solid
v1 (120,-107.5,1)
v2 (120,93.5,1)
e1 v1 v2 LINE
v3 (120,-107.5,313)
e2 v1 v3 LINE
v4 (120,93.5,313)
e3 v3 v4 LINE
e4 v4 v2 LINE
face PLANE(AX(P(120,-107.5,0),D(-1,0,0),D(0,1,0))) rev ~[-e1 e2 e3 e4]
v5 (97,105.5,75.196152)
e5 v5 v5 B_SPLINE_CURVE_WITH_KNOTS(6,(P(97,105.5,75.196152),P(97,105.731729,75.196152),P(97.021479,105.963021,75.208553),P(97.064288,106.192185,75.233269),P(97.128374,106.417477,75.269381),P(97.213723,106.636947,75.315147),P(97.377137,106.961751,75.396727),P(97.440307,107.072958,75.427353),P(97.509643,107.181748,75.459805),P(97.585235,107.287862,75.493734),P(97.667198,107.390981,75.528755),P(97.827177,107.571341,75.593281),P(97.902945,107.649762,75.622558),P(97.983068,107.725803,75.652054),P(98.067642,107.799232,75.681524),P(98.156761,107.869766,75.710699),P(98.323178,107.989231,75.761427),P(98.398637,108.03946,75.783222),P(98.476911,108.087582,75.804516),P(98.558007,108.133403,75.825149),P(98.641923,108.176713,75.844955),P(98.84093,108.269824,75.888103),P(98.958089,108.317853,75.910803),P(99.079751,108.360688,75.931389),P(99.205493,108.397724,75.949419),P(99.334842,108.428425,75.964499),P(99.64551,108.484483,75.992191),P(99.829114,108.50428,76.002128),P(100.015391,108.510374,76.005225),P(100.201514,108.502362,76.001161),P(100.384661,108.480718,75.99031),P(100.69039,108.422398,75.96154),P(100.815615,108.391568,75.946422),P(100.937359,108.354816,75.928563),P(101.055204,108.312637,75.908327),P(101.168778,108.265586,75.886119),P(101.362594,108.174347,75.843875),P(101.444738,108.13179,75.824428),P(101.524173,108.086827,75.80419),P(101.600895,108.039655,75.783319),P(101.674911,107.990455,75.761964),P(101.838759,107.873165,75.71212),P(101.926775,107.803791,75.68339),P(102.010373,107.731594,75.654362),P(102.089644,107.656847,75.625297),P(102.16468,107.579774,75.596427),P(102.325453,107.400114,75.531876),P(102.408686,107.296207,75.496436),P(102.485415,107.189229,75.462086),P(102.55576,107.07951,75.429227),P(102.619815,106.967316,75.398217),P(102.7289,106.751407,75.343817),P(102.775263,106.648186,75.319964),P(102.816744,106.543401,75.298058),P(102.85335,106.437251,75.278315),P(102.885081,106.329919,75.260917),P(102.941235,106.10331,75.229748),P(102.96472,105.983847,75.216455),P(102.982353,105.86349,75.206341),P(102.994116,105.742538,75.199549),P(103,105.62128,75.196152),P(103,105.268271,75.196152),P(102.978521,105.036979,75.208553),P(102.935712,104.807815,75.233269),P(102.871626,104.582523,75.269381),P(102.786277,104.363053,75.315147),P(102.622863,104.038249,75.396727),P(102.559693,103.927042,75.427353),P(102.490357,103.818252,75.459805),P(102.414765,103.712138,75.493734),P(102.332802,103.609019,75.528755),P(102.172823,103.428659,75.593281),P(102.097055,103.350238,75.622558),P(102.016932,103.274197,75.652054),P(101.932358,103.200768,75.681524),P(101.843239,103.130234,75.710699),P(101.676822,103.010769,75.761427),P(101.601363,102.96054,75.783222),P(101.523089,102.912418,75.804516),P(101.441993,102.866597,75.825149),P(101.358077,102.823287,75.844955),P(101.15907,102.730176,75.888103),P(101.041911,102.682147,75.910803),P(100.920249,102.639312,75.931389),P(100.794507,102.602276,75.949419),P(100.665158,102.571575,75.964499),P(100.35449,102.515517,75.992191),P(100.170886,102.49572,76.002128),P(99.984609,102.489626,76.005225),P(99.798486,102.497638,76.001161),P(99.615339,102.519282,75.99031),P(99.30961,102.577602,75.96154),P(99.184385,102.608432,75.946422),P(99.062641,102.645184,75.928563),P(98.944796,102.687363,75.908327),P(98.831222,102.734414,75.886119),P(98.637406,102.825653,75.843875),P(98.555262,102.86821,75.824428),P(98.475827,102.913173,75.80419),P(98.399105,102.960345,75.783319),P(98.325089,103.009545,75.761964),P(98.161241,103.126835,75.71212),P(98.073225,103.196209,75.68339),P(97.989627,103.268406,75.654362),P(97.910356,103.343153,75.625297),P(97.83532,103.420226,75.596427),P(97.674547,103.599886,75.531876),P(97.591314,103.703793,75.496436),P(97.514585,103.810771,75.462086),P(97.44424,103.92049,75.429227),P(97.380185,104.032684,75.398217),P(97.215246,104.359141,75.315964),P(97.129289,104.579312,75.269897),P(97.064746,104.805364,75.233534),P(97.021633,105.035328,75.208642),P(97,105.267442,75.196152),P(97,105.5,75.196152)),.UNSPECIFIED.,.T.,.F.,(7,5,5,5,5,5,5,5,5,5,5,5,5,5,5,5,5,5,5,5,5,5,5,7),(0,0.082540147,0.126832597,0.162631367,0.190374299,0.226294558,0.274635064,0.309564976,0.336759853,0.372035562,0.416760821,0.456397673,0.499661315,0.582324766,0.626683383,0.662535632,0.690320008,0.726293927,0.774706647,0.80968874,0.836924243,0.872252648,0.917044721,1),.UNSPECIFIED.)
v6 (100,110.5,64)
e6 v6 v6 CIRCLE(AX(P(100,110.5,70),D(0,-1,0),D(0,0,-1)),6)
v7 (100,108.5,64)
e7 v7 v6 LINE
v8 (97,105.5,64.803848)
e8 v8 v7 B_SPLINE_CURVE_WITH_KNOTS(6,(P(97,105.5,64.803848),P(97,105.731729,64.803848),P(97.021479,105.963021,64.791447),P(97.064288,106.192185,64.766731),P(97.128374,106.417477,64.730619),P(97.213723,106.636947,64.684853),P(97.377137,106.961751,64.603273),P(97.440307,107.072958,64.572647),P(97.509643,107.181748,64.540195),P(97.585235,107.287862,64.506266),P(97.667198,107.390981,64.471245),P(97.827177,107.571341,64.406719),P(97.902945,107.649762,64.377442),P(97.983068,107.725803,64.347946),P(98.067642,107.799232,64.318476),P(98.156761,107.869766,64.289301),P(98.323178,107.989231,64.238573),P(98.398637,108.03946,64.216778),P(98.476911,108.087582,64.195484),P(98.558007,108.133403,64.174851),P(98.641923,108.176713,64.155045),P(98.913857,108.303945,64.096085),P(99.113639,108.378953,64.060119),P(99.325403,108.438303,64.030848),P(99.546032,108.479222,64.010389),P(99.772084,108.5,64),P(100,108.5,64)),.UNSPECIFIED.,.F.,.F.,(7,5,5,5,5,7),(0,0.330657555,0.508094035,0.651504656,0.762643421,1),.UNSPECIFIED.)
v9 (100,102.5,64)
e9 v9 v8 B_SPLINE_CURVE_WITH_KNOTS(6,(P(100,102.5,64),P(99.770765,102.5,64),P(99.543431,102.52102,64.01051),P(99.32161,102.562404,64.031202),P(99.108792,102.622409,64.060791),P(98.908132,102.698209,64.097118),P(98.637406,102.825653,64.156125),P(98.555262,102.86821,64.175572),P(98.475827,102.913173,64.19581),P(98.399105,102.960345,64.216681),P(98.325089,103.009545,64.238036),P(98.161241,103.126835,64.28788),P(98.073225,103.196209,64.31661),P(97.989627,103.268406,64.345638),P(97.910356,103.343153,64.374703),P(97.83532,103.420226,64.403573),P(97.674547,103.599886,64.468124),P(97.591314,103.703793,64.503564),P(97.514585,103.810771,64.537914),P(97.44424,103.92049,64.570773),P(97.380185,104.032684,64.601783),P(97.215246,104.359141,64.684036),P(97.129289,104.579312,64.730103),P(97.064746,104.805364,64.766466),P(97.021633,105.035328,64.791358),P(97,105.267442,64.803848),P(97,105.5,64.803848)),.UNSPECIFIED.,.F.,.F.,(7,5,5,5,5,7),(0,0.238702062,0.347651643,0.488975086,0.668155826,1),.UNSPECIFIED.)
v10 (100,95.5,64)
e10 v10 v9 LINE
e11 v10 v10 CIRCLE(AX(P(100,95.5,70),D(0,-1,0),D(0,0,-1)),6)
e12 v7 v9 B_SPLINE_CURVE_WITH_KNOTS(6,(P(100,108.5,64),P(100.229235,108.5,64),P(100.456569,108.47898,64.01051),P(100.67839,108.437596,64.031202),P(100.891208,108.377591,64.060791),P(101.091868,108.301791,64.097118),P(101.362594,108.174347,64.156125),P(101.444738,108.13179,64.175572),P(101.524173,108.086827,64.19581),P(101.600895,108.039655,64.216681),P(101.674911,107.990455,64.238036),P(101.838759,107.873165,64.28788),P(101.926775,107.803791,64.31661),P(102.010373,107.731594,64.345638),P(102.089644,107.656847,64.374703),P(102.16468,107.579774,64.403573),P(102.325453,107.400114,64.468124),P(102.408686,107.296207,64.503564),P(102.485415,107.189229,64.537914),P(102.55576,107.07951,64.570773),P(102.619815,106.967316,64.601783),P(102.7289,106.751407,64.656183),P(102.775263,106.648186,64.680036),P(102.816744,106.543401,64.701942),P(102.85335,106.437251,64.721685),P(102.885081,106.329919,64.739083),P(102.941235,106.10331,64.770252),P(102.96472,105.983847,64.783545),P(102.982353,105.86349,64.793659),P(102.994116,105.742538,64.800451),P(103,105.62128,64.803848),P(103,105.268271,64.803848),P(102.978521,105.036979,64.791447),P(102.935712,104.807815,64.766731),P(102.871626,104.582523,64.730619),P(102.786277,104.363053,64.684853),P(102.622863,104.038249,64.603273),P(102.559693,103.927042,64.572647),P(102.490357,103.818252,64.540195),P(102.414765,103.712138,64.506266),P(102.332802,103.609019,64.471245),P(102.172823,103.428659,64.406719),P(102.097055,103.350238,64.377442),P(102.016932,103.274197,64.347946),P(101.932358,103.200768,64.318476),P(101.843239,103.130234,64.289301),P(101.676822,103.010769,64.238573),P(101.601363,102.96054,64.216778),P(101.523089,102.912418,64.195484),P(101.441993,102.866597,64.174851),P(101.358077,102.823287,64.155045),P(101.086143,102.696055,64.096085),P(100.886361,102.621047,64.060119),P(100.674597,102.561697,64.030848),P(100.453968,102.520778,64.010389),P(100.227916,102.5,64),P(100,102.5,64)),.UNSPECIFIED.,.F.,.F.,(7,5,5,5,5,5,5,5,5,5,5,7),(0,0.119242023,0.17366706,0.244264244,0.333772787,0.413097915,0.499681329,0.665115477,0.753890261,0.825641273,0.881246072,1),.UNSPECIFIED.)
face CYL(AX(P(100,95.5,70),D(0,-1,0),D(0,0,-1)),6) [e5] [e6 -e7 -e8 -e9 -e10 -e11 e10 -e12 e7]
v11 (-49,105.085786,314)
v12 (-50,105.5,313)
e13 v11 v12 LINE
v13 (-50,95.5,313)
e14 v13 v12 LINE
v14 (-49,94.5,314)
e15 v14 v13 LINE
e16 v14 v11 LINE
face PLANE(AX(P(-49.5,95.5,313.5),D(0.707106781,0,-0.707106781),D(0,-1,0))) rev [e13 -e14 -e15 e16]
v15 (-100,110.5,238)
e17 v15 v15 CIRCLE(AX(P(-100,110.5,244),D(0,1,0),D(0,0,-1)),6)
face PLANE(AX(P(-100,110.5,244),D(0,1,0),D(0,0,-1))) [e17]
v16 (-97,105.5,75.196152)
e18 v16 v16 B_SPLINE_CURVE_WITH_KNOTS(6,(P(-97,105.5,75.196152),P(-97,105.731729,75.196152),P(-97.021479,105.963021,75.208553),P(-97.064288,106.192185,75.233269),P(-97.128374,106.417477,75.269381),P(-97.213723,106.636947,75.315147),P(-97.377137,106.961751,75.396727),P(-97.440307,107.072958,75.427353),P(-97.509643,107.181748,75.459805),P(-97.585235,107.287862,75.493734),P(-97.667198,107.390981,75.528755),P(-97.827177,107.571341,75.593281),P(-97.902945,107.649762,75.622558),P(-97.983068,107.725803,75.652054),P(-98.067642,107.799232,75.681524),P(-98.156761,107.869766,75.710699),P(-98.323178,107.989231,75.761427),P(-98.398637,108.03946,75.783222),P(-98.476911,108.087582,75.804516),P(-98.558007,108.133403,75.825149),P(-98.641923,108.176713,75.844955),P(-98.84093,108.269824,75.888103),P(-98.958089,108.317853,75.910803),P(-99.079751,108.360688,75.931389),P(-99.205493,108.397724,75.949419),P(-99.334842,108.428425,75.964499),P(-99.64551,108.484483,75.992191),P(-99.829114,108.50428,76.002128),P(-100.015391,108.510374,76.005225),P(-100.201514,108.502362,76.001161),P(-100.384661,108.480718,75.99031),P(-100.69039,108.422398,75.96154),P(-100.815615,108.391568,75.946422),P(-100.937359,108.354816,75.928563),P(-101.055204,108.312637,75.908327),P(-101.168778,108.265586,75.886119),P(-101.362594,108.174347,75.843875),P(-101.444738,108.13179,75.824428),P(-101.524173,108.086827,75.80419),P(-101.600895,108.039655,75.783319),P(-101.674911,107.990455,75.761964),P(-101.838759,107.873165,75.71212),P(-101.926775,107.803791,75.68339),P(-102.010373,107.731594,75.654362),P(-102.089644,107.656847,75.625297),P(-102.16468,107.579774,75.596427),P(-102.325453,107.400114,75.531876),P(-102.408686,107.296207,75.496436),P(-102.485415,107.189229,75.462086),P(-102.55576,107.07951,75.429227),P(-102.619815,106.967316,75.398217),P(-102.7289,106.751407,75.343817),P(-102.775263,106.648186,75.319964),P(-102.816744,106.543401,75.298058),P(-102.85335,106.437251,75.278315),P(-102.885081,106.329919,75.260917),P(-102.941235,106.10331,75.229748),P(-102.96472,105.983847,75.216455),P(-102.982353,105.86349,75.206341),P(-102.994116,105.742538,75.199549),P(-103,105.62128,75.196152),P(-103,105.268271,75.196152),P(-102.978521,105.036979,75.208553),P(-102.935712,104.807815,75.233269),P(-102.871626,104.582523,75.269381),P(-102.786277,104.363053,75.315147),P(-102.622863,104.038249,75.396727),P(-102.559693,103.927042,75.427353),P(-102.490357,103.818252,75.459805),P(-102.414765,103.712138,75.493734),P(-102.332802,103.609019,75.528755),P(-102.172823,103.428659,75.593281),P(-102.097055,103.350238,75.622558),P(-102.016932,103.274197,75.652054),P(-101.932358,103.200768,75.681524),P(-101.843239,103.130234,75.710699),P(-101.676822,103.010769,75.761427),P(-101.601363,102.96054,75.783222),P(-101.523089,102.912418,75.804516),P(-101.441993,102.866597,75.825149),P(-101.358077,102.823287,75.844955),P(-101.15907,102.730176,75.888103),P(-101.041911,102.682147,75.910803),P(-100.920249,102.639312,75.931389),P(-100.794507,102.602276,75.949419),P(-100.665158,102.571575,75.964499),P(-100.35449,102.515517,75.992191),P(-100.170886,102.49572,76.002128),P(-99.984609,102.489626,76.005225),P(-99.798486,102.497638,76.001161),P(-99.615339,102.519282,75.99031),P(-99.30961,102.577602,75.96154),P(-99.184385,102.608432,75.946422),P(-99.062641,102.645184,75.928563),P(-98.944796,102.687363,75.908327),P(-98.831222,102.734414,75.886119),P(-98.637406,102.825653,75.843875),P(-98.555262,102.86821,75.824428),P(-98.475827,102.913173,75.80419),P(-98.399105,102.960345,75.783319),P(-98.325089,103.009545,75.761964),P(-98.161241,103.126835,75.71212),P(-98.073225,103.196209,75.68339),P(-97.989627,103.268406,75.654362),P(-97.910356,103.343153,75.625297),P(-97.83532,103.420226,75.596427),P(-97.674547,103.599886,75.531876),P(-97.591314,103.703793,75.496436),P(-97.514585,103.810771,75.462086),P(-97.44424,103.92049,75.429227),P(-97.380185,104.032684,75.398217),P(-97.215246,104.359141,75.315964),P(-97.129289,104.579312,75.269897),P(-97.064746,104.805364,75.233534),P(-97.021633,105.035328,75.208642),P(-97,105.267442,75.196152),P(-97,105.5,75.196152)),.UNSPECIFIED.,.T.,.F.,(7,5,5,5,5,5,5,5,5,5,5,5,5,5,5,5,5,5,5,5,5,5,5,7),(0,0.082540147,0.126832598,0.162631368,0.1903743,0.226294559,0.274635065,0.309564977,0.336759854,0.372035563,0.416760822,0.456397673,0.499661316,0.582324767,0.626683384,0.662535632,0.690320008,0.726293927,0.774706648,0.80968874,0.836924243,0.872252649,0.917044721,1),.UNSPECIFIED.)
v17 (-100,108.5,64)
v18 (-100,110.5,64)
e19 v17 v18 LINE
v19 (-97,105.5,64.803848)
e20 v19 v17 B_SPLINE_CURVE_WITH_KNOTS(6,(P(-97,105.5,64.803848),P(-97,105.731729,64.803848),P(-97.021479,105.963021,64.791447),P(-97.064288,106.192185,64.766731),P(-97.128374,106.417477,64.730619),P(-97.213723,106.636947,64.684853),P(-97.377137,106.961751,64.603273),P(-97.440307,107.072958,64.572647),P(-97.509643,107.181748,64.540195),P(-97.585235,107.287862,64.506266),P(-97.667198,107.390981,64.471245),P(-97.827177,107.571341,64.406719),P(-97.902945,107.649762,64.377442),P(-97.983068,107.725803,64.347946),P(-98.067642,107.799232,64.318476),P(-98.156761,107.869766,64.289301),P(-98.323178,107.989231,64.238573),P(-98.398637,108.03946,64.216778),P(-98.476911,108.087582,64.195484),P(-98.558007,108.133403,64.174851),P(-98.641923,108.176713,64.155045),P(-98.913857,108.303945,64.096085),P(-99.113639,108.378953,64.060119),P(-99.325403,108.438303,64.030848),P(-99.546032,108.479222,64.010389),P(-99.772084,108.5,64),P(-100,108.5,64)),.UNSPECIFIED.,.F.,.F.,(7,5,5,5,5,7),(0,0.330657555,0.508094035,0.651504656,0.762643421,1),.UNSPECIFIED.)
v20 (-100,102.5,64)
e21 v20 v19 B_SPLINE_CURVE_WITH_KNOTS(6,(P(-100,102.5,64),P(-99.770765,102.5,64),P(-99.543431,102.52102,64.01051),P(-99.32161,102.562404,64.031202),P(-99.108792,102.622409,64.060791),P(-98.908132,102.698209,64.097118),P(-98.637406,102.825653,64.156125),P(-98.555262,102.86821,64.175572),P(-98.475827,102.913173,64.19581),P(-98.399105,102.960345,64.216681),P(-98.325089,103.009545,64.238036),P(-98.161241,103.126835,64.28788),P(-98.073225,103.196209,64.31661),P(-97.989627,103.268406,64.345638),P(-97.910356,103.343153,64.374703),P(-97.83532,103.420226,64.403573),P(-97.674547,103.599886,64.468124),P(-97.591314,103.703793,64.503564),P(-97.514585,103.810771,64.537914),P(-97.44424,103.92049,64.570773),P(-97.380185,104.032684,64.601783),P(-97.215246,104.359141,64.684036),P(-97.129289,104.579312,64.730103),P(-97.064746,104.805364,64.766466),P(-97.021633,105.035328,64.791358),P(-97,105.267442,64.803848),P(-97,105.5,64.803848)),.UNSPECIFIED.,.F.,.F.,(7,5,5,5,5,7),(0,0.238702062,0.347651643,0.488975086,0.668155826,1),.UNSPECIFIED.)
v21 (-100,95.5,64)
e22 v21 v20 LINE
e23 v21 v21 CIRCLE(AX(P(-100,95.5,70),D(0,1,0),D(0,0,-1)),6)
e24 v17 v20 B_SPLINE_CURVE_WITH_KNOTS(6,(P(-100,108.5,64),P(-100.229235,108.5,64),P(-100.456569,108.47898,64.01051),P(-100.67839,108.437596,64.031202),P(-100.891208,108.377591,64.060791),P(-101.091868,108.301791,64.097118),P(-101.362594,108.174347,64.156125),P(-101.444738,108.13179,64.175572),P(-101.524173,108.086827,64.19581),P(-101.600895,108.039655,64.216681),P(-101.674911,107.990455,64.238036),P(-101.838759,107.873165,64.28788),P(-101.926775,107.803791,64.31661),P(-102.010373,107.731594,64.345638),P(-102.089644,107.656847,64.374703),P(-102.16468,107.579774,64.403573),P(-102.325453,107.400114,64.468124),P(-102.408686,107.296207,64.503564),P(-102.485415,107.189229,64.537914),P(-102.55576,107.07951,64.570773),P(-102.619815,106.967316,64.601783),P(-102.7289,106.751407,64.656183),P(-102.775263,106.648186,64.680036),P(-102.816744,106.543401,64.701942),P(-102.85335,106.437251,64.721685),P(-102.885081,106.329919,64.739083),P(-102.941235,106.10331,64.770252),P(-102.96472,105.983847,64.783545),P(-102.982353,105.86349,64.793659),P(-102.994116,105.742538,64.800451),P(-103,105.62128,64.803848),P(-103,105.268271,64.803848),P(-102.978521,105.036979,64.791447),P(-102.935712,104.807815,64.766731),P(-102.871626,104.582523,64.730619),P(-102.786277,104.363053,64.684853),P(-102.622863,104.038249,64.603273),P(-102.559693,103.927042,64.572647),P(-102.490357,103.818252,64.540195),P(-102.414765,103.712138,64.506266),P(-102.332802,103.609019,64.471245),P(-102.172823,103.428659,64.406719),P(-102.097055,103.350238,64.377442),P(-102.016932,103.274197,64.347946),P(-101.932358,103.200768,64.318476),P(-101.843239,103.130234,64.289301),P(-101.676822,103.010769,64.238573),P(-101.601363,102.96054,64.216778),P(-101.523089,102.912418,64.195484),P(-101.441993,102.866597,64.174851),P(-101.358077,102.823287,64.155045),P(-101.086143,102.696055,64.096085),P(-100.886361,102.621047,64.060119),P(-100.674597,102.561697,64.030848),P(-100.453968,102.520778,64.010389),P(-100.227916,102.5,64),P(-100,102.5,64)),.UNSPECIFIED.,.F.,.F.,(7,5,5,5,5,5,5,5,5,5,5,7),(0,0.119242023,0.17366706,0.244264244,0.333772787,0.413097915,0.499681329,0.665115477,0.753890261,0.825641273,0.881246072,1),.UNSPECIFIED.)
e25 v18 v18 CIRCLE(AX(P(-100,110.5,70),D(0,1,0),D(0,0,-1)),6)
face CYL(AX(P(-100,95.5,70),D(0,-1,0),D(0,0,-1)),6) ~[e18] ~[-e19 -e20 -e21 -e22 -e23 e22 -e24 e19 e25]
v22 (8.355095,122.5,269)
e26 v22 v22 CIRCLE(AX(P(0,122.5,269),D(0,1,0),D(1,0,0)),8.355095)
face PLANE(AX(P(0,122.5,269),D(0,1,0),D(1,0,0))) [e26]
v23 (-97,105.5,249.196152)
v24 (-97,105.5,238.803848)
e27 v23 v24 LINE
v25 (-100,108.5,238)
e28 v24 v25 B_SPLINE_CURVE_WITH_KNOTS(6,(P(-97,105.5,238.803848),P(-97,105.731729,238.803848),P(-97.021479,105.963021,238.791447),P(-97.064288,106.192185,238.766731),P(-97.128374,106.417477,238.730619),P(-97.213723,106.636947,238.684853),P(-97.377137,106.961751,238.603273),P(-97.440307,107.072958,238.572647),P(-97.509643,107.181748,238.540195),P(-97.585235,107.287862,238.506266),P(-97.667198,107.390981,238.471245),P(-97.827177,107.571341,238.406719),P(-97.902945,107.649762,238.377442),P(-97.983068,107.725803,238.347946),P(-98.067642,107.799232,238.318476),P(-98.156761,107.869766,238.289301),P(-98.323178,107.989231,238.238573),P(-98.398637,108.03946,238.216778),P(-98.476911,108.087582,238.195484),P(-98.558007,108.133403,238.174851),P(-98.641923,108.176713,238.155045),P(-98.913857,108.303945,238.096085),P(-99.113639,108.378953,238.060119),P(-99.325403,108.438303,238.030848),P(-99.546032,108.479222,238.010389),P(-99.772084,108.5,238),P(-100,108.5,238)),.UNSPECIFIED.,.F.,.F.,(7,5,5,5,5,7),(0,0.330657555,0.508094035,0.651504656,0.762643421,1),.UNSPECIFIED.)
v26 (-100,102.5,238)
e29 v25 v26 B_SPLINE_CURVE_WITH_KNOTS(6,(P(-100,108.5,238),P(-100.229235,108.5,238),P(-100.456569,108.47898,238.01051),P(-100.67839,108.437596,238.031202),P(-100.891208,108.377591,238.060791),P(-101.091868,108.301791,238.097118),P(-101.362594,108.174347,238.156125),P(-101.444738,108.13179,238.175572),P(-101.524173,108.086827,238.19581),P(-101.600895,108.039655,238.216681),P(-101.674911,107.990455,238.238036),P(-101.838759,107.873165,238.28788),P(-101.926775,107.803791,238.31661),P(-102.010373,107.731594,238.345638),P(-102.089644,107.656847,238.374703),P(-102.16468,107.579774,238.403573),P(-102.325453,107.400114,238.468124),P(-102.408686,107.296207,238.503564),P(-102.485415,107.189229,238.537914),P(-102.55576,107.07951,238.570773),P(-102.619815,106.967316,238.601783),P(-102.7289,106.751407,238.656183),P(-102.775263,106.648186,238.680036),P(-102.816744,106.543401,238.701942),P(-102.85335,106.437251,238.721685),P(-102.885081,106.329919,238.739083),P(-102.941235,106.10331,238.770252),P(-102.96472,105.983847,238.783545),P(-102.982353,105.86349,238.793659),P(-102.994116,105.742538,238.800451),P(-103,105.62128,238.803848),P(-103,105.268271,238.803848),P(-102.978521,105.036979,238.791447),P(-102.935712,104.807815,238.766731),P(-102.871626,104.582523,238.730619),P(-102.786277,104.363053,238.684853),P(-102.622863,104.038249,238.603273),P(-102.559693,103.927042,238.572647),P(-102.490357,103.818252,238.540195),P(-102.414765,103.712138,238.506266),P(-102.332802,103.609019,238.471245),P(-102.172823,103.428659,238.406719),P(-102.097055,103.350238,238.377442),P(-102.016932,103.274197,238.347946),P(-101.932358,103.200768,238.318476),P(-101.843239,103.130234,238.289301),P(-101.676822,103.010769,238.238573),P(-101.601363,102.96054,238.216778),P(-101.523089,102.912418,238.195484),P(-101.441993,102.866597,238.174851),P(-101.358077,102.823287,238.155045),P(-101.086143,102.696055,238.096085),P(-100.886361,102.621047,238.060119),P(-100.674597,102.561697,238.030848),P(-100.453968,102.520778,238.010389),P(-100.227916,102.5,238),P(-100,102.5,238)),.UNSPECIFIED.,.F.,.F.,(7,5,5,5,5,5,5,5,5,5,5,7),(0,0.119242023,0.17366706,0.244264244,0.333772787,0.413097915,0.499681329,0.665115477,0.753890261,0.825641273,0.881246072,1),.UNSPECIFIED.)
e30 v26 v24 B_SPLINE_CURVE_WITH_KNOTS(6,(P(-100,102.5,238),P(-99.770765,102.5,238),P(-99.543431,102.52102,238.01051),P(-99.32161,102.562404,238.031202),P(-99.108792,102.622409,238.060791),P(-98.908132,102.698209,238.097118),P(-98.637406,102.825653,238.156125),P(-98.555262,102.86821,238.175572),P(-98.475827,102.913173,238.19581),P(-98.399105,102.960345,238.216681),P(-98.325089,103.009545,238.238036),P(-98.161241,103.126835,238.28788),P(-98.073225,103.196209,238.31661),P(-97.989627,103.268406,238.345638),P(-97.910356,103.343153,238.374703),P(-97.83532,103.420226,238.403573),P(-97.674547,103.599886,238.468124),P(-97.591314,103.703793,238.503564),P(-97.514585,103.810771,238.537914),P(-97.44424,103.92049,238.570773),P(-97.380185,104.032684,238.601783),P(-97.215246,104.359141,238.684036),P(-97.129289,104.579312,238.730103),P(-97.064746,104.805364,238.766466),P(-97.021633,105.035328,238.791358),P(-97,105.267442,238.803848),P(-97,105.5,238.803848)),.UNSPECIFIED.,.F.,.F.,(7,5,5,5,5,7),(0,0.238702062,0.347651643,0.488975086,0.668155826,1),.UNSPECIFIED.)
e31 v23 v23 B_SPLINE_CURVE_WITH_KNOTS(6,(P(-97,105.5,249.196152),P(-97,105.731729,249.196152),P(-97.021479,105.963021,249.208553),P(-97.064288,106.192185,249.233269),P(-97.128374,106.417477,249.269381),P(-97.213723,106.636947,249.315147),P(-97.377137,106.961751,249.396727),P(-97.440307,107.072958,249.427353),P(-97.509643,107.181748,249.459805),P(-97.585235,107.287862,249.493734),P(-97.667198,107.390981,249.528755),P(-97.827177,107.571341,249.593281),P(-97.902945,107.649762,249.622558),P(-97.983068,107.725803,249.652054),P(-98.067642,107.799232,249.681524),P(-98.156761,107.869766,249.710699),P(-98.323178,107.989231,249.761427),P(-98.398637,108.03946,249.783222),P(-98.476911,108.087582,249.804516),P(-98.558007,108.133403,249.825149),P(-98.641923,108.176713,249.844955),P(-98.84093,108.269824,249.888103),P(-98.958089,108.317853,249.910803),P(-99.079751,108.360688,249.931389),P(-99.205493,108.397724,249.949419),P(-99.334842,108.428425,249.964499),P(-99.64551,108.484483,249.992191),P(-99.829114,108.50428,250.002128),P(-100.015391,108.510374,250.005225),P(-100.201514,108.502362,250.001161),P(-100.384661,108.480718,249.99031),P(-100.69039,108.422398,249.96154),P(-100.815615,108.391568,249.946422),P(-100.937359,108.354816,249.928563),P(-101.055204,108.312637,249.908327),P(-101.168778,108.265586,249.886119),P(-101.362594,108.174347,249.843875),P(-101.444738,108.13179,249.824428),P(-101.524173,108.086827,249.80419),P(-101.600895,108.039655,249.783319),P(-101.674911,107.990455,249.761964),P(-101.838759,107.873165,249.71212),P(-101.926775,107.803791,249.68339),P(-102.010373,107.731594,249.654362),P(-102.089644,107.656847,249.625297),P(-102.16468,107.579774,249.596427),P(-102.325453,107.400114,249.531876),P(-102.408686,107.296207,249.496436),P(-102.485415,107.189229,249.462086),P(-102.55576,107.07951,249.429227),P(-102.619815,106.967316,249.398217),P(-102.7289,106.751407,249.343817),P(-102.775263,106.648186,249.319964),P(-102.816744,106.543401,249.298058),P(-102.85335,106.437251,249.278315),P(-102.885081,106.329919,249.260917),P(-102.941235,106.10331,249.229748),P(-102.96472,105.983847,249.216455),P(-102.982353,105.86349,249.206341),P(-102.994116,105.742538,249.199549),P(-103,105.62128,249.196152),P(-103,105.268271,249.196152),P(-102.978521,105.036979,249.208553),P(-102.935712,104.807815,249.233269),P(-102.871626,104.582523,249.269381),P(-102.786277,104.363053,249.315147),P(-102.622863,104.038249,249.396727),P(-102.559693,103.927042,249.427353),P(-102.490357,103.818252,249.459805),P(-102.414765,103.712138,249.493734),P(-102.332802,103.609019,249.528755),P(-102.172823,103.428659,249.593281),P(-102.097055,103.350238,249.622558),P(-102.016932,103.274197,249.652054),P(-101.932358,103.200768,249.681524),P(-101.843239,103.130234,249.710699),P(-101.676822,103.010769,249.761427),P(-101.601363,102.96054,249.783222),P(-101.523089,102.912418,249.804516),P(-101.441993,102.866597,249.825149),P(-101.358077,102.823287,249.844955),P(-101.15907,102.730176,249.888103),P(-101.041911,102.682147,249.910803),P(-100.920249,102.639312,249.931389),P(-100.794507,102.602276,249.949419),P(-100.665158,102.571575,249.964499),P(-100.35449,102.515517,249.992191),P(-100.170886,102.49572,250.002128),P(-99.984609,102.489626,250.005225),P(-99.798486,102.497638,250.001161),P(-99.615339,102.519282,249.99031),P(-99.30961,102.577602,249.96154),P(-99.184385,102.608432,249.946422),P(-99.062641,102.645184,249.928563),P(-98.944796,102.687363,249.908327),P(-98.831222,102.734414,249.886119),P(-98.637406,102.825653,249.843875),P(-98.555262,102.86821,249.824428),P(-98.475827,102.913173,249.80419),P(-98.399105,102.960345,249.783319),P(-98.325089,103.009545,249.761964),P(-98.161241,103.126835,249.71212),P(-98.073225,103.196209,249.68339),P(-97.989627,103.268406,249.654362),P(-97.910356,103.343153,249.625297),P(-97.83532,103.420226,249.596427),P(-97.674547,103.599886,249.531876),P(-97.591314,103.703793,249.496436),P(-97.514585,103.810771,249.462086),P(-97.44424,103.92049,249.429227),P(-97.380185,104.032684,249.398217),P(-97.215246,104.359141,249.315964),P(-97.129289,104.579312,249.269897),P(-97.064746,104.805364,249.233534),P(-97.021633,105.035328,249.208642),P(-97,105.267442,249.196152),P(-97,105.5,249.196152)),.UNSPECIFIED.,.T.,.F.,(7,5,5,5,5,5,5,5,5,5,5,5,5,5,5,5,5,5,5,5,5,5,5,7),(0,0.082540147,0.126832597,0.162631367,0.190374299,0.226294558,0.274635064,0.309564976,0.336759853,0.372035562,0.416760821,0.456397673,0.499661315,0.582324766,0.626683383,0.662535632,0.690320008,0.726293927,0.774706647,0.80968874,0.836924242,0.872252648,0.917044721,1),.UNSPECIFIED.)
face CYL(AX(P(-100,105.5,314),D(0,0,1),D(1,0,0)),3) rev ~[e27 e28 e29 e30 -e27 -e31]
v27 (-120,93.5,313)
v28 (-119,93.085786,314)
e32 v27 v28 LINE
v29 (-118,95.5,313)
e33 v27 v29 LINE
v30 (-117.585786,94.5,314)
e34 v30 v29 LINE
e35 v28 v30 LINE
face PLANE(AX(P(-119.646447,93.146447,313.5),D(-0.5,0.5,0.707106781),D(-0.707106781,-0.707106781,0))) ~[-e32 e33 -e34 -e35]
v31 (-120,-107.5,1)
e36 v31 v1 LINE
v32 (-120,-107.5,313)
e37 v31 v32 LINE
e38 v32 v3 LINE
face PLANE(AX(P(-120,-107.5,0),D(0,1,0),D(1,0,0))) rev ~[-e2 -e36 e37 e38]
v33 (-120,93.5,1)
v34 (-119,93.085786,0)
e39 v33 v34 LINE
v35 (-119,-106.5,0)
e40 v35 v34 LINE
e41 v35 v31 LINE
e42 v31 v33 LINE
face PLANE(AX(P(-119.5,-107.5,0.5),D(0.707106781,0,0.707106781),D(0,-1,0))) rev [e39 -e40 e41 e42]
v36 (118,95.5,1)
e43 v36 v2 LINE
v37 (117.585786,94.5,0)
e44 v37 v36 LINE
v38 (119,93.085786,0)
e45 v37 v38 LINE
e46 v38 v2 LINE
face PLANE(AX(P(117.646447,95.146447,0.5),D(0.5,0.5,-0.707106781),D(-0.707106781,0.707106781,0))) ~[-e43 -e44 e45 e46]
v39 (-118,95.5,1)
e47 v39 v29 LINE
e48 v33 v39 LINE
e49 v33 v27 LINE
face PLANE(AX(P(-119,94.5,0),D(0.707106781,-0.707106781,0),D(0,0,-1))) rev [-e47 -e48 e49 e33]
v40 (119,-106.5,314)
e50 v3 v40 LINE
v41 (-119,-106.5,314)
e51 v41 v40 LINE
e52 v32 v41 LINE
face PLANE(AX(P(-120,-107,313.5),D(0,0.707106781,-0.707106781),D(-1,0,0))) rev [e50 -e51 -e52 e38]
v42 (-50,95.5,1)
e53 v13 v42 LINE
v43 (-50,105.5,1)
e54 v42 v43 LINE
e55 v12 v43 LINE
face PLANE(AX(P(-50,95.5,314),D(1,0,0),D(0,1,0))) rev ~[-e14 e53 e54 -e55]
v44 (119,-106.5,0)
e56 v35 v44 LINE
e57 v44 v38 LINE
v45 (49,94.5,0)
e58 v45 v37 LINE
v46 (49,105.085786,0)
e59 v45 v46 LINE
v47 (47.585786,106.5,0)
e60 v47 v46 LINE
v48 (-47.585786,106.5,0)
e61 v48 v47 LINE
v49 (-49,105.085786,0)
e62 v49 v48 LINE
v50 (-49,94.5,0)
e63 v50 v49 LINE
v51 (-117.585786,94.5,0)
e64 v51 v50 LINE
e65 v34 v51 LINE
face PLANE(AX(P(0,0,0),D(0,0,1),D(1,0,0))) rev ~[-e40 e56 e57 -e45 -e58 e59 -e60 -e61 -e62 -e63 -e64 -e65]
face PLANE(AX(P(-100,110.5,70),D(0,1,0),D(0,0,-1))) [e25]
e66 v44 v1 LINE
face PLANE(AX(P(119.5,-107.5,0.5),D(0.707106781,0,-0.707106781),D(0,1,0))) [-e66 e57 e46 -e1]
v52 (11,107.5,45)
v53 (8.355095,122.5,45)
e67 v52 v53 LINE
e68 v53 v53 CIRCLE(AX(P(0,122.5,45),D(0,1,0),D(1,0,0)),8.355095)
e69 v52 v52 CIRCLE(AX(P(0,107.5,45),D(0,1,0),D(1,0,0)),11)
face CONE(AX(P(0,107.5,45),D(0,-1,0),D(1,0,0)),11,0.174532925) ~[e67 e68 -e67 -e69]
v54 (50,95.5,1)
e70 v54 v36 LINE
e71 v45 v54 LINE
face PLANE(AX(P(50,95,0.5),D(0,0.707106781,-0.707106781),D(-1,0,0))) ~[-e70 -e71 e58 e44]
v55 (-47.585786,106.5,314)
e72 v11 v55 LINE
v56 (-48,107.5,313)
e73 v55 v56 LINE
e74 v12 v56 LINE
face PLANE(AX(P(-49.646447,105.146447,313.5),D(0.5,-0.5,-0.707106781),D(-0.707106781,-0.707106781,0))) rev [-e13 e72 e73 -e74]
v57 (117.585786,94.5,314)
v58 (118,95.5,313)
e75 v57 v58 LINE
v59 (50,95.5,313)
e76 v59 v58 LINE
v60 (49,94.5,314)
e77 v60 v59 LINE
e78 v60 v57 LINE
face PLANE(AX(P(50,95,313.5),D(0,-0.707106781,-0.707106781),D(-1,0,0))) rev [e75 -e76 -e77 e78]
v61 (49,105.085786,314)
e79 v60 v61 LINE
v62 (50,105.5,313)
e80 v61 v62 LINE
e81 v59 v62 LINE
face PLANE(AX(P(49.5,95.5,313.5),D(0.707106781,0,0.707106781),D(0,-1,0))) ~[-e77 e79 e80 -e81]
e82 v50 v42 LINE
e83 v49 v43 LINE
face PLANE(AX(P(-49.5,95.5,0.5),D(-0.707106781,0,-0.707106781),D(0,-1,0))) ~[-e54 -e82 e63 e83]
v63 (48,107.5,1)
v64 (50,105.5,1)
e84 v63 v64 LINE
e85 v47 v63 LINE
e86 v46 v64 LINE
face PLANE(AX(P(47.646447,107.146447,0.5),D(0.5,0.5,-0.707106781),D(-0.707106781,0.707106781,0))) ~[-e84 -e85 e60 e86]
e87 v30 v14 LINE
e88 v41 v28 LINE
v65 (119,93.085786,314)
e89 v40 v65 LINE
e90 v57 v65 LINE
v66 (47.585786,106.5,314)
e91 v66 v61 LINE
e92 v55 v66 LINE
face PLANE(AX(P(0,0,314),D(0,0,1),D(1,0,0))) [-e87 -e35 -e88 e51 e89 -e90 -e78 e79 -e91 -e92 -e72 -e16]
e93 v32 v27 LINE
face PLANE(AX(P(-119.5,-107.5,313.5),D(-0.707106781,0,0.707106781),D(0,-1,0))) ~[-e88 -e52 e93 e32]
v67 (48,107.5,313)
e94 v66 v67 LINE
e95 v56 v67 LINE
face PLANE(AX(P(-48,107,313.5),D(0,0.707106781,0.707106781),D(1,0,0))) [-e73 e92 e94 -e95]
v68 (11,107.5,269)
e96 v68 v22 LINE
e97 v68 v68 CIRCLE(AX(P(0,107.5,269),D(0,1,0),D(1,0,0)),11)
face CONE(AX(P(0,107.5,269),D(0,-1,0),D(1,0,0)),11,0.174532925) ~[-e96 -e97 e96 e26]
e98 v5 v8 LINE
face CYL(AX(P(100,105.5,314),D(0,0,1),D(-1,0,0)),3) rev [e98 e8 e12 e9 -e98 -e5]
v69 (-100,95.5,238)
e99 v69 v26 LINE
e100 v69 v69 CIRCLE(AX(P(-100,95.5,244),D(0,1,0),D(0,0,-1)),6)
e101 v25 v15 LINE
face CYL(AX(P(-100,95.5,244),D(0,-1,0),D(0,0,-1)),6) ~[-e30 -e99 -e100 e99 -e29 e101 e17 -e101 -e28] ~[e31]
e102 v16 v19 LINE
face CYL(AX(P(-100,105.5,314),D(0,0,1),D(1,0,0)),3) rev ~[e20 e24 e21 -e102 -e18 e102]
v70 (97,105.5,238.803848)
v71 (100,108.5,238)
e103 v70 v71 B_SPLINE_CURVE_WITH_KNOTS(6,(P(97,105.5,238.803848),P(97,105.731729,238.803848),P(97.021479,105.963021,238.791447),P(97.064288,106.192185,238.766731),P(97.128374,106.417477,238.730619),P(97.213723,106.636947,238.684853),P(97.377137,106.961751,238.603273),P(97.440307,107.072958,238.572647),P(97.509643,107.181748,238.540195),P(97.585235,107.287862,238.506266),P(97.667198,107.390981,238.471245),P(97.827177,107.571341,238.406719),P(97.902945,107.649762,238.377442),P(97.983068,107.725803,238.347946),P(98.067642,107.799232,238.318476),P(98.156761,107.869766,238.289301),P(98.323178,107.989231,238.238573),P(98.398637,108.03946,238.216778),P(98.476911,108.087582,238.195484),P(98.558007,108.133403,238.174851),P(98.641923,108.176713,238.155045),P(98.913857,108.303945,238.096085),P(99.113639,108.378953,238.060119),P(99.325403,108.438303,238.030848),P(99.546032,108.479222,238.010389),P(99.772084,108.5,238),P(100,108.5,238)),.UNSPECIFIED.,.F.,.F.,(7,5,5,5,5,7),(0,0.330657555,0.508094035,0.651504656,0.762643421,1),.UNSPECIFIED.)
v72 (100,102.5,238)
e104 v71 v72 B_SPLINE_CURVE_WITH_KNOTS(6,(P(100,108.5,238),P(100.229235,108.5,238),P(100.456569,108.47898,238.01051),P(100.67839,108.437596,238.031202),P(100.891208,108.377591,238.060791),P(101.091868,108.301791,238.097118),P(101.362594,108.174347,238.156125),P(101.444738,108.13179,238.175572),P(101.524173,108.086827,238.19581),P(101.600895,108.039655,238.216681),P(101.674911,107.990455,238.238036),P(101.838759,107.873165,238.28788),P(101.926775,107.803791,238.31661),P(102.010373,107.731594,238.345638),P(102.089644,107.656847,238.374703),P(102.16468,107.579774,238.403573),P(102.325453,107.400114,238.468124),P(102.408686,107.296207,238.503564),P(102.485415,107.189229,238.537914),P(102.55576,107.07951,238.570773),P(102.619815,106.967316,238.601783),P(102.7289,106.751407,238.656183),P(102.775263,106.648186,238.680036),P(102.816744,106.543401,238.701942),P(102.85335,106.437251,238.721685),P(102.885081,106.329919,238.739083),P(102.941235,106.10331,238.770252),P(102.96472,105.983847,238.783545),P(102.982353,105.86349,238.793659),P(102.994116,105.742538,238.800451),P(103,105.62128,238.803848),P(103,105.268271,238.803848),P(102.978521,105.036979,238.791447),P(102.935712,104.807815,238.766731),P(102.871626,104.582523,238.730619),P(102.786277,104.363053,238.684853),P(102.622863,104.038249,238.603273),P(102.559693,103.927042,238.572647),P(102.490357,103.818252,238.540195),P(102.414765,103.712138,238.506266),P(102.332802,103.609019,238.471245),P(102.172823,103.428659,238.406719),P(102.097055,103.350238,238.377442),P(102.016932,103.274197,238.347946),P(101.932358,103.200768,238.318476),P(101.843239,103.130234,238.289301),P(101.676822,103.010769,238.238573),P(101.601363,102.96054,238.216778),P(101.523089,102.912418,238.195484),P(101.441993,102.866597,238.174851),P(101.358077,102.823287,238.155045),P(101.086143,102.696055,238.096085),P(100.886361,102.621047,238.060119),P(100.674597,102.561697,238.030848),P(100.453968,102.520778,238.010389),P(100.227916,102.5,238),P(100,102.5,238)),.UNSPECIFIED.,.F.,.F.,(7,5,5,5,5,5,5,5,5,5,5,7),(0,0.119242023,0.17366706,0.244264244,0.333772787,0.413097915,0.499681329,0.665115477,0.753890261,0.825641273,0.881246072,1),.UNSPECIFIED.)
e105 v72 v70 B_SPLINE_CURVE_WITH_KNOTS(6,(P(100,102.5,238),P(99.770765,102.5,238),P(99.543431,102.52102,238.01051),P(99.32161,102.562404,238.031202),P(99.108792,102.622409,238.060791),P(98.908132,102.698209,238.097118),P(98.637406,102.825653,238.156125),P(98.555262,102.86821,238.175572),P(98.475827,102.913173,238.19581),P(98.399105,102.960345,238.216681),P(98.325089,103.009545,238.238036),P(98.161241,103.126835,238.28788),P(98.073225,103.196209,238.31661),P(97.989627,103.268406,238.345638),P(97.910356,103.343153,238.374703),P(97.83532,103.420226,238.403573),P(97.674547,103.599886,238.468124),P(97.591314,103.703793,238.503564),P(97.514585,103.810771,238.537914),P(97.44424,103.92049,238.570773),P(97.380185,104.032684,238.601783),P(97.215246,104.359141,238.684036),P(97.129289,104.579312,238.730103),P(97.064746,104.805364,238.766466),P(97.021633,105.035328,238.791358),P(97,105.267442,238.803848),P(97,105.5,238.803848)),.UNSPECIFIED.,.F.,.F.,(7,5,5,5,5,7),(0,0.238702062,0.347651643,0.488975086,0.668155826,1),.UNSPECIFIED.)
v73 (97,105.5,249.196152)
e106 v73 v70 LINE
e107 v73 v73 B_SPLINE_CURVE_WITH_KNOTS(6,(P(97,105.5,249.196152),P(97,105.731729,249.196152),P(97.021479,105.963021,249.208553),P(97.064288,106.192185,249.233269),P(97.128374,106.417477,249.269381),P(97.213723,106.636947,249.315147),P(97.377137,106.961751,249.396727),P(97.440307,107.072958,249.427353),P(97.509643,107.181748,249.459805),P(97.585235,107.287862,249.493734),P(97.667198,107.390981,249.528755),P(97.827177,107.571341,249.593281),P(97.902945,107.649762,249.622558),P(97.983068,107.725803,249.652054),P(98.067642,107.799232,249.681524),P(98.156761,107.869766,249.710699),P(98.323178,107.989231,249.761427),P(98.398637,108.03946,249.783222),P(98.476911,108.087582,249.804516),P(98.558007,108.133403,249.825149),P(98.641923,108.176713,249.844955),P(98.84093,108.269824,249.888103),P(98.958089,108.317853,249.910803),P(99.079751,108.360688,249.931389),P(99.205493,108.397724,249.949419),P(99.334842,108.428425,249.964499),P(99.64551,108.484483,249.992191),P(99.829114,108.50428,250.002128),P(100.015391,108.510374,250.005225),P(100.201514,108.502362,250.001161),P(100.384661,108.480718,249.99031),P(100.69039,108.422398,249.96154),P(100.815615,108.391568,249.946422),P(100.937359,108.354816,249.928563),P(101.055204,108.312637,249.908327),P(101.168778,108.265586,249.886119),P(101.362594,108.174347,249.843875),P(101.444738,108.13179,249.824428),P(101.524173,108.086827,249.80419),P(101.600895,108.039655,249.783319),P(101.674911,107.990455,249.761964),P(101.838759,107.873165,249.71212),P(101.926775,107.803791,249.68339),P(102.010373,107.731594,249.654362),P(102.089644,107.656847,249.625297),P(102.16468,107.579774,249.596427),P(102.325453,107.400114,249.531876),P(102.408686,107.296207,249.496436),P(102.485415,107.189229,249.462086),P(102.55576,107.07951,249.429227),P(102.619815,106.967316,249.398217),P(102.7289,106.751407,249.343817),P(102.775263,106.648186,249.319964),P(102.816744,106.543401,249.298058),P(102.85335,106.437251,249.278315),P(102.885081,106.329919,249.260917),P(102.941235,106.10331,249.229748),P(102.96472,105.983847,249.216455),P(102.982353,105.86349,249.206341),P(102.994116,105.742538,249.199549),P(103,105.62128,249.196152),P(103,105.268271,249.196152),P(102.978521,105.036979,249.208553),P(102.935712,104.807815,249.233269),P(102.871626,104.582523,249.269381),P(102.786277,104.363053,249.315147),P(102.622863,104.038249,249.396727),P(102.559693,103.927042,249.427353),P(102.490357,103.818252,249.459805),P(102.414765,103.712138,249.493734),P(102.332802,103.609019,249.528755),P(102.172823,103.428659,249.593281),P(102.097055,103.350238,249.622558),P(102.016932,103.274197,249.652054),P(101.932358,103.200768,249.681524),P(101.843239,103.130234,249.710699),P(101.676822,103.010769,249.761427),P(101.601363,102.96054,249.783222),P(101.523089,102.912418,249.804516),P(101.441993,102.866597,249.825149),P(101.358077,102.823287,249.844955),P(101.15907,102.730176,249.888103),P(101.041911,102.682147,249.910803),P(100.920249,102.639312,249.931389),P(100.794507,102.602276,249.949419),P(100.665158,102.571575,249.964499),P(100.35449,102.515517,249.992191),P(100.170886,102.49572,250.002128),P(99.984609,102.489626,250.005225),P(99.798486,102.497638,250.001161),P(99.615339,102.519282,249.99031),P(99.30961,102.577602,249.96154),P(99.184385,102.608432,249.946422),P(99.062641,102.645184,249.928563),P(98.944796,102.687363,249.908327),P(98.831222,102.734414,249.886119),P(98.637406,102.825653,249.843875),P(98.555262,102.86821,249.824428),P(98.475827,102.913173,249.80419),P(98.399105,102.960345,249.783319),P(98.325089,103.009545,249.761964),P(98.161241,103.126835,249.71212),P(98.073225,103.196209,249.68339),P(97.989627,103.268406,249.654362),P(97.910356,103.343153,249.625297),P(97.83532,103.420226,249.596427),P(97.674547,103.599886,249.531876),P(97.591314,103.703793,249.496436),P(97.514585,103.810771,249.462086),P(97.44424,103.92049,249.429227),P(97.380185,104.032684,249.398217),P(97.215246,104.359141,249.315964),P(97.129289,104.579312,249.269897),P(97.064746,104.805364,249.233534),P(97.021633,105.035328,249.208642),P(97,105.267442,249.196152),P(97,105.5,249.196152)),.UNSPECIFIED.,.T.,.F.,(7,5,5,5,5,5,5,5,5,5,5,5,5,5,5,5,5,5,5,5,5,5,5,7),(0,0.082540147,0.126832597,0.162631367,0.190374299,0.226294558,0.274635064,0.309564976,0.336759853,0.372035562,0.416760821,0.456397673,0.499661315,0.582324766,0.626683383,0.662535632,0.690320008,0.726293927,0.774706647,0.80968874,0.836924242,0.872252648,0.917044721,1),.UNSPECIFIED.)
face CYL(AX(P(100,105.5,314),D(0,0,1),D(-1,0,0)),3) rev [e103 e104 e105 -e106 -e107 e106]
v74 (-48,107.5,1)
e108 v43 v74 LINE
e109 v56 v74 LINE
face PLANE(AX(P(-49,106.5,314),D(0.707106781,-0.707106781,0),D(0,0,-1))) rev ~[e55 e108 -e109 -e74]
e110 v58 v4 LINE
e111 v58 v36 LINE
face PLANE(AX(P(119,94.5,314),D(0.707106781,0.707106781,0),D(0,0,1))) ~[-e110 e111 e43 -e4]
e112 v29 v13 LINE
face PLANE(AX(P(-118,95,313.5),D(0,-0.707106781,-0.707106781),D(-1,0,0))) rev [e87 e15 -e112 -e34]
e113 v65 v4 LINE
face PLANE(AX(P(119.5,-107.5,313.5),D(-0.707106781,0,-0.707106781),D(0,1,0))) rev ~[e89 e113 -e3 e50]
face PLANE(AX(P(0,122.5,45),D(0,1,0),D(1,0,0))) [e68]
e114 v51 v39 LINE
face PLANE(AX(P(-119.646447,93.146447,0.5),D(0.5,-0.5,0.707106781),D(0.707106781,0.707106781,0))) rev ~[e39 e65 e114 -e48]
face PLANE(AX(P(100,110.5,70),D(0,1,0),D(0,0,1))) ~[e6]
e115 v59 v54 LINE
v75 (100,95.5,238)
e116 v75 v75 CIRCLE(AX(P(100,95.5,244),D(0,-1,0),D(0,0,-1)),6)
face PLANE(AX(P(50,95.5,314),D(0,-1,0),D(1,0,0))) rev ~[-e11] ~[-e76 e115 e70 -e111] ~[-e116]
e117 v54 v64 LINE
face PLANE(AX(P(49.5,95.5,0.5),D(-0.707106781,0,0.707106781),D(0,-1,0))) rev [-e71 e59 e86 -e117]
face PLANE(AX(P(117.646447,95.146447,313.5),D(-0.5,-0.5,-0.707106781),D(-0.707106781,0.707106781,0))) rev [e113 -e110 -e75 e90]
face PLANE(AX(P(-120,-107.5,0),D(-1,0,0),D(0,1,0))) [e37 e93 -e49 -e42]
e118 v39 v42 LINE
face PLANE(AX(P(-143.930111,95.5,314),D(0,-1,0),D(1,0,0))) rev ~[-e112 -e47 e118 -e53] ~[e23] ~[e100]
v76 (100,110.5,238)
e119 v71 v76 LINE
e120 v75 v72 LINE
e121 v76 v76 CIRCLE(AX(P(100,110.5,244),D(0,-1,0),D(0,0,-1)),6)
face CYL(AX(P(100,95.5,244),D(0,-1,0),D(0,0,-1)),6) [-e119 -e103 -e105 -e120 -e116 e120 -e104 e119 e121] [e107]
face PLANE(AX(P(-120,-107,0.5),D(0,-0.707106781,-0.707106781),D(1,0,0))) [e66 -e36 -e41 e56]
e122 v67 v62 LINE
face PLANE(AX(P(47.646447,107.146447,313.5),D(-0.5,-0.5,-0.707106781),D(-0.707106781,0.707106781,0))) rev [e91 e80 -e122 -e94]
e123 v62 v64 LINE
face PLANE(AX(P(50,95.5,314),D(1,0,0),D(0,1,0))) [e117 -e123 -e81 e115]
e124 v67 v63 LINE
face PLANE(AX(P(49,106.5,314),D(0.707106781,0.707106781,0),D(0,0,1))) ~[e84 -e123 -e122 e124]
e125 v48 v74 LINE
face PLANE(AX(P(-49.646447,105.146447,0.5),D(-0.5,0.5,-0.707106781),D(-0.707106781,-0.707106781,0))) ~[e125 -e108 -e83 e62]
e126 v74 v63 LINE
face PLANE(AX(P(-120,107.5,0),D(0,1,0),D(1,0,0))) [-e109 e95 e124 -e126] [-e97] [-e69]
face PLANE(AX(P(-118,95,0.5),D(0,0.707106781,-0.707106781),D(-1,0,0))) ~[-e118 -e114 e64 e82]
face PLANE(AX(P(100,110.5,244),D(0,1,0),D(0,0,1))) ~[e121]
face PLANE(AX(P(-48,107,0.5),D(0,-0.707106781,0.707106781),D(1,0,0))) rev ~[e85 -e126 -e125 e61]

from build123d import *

# Parameters (mm, degrees)
SKETCH_1_W                = 240
SKETCH_1_H                = 215
EXTRUDE_1_DEPTH           = 314
SKETCH_2_W                = 93.930111424
SKETCH_2_H                = 33.454560233
SKETCH_2_W_2              = 70
SKETCH_2_H_2              = 30.443707166
CUT_EXTRUDE_1_DEPTH       = 353.91960841
CHAMFER_1_SIZE            = 2
SKETCH_3_R                = 6
EXTRUDE_2_DEPTH           = 15
SKETCH_4_R                = 3
CUT_EXTRUDE_2_DEPTH       = 354.844951921
SKETCH_5_R                = 11
EXTRUDE_3_DEPTH           = 15
EXTRUDE_3_DRAFT           = 10
EXTRUDE_3_PROFILE_2_DEPTH = 15
EXTRUDE_3_PROFILE_2_DRAFT = 10
CHAMFER_2_SIZE            = 1


with BuildPart() as part:
    # 草图1 → 凸台-拉伸1 (new body)
    with BuildSketch(Plane.XY):
        Rectangle(SKETCH_1_W, SKETCH_1_H)
    extrude(amount=EXTRUDE_1_DEPTH)

    # 草图2 → 切除-拉伸1 (cut, through all)
    with BuildSketch(Plane.XY.offset(314)):
        with Locations((-96.965055712, 112.227280116)):
            Rectangle(SKETCH_2_W, SKETCH_2_H)
        with Locations((85, 110.721853583)):
            Rectangle(SKETCH_2_W_2, SKETCH_2_H_2)
    extrude(amount=-CUT_EXTRUDE_1_DEPTH, mode=Mode.SUBTRACT)

    # 倒角1
    chamfer_1_edges = [part.edges().sort_by_distance(p)[0] for p in [
        (-50, 107.5, 157),
        (-120, 95.5, 157),
        (50, 107.5, 157),
        (120, 95.5, 157),
    ]]
    chamfer(chamfer_1_edges, length=CHAMFER_1_SIZE)

    # 草图3 → 凸台-拉伸2 (add)
    with BuildSketch(Plane(origin=(0, 95.5, 0), x_dir=(1, 0, 0), z_dir=(0, 1, 0))):
        with Locations(Location((-100, -70, 0), (0, 0, 90))):
            Circle(SKETCH_3_R)
        with Locations(Location((-100, -244, 0), (0, 0, 90))):
            Circle(SKETCH_3_R)
    extrude_2 = extrude(amount=EXTRUDE_2_DEPTH)

    # 草图4 → 切除-拉伸2 (cut, through all)
    with BuildSketch(Plane.XY.offset(314)):
        with Locations((-100, 105.5)):
            Circle(SKETCH_4_R)
    cut_extrude_2 = extrude(amount=-CUT_EXTRUDE_2_DEPTH, mode=Mode.SUBTRACT)


with BuildPart() as extrude_3_tool:
    # 草图5 → 凸台-拉伸3 (with draft: the straight prism first)
    with BuildSketch(Plane(origin=(0, 107.5, 0), x_dir=(1, 0, 0), z_dir=(0, 1, 0))):
        with Locations((0, -45)):
            Circle(SKETCH_5_R)
    extrude(amount=EXTRUDE_3_DEPTH)
    # 凸台-拉伸3: the draft: its side faces are tilted about the plane it starts from
    extrude_3_sides = [extrude_3_tool.faces().sort_by_distance(p)[0] for p in [
        (-11, 115, 45),
    ]]
    draft(extrude_3_sides, Plane(origin=(0, 107.5, 0), x_dir=(1, 0, 0), z_dir=(0, 1, 0)), EXTRUDE_3_DRAFT)


with BuildPart() as part_1:
    add(part.part)

    # 凸台-拉伸3: add extrude_3_tool
    add(extrude_3_tool.part)


with BuildPart() as extrude_3_profile_2_tool:
    # 草图5 → 凸台-拉伸3 profile 2 (with draft: the straight prism first)
    with BuildSketch(Plane(origin=(0, 107.5, 0), x_dir=(1, 0, 0), z_dir=(0, 1, 0))):
        with Locations((0, -269)):
            Circle(SKETCH_5_R)
    extrude(amount=EXTRUDE_3_PROFILE_2_DEPTH)
    # 凸台-拉伸3 profile 2: the draft: its side faces are tilted about the plane it starts from
    extrude_3_profile_2_sides = [extrude_3_profile_2_tool.faces().sort_by_distance(p)[0] for p in [
        (-11, 115, 269),
    ]]
    draft(extrude_3_profile_2_sides, Plane(origin=(0, 107.5, 0), x_dir=(1, 0, 0), z_dir=(0, 1, 0)), EXTRUDE_3_PROFILE_2_DRAFT)


with BuildPart() as part_2:
    add(part_1.part)

    # 凸台-拉伸3 profile 2: add extrude_3_profile_2_tool
    add(extrude_3_profile_2_tool.part)

    # 镜向1: 凸台-拉伸2, 切除-拉伸2 across plane
    add(extrude_2.mirror(Plane(origin=(0, 0, 0), x_dir=(0, 0, 1), z_dir=(1, 0, 0))))
    add(cut_extrude_2.mirror(Plane(origin=(0, 0, 0), x_dir=(0, 0, 1), z_dir=(1, 0, 0))), mode=Mode.SUBTRACT)

    # 倒角2
    chamfer_2_edges = [part_2.edges().sort_by_distance(p)[0] for p in [
        (0, -107.5, 314),
        (-84, 95.5, 0),
        (-50, 100.5, 314),
        (-50, 100.5, 0),
        (50, 100.5, 0),
        (84, 95.5, 314),
        (84, 95.5, 0),
        (120, -7, 314),
        (0, -107.5, 0),
        (-120, -7, 314),
        (-120, -7, 0),
        (0, 107.5, 0),
        (-49, 106.5, 0),
        (49, 106.5, 0),
        (119, 94.5, 0),
        (-119, 94.5, 0),
        (-84, 95.5, 314),
        (120, -7, 0),
        (50, 100.5, 314),
        (0, 107.5, 314),
        (-49, 106.5, 314),
        (49, 106.5, 314),
        (119, 94.5, 314),
        (-119, 94.5, 314),
    ]]
    chamfer(chamfer_2_edges, length=CHAMFER_2_SIZE)


solid = part_2.part
